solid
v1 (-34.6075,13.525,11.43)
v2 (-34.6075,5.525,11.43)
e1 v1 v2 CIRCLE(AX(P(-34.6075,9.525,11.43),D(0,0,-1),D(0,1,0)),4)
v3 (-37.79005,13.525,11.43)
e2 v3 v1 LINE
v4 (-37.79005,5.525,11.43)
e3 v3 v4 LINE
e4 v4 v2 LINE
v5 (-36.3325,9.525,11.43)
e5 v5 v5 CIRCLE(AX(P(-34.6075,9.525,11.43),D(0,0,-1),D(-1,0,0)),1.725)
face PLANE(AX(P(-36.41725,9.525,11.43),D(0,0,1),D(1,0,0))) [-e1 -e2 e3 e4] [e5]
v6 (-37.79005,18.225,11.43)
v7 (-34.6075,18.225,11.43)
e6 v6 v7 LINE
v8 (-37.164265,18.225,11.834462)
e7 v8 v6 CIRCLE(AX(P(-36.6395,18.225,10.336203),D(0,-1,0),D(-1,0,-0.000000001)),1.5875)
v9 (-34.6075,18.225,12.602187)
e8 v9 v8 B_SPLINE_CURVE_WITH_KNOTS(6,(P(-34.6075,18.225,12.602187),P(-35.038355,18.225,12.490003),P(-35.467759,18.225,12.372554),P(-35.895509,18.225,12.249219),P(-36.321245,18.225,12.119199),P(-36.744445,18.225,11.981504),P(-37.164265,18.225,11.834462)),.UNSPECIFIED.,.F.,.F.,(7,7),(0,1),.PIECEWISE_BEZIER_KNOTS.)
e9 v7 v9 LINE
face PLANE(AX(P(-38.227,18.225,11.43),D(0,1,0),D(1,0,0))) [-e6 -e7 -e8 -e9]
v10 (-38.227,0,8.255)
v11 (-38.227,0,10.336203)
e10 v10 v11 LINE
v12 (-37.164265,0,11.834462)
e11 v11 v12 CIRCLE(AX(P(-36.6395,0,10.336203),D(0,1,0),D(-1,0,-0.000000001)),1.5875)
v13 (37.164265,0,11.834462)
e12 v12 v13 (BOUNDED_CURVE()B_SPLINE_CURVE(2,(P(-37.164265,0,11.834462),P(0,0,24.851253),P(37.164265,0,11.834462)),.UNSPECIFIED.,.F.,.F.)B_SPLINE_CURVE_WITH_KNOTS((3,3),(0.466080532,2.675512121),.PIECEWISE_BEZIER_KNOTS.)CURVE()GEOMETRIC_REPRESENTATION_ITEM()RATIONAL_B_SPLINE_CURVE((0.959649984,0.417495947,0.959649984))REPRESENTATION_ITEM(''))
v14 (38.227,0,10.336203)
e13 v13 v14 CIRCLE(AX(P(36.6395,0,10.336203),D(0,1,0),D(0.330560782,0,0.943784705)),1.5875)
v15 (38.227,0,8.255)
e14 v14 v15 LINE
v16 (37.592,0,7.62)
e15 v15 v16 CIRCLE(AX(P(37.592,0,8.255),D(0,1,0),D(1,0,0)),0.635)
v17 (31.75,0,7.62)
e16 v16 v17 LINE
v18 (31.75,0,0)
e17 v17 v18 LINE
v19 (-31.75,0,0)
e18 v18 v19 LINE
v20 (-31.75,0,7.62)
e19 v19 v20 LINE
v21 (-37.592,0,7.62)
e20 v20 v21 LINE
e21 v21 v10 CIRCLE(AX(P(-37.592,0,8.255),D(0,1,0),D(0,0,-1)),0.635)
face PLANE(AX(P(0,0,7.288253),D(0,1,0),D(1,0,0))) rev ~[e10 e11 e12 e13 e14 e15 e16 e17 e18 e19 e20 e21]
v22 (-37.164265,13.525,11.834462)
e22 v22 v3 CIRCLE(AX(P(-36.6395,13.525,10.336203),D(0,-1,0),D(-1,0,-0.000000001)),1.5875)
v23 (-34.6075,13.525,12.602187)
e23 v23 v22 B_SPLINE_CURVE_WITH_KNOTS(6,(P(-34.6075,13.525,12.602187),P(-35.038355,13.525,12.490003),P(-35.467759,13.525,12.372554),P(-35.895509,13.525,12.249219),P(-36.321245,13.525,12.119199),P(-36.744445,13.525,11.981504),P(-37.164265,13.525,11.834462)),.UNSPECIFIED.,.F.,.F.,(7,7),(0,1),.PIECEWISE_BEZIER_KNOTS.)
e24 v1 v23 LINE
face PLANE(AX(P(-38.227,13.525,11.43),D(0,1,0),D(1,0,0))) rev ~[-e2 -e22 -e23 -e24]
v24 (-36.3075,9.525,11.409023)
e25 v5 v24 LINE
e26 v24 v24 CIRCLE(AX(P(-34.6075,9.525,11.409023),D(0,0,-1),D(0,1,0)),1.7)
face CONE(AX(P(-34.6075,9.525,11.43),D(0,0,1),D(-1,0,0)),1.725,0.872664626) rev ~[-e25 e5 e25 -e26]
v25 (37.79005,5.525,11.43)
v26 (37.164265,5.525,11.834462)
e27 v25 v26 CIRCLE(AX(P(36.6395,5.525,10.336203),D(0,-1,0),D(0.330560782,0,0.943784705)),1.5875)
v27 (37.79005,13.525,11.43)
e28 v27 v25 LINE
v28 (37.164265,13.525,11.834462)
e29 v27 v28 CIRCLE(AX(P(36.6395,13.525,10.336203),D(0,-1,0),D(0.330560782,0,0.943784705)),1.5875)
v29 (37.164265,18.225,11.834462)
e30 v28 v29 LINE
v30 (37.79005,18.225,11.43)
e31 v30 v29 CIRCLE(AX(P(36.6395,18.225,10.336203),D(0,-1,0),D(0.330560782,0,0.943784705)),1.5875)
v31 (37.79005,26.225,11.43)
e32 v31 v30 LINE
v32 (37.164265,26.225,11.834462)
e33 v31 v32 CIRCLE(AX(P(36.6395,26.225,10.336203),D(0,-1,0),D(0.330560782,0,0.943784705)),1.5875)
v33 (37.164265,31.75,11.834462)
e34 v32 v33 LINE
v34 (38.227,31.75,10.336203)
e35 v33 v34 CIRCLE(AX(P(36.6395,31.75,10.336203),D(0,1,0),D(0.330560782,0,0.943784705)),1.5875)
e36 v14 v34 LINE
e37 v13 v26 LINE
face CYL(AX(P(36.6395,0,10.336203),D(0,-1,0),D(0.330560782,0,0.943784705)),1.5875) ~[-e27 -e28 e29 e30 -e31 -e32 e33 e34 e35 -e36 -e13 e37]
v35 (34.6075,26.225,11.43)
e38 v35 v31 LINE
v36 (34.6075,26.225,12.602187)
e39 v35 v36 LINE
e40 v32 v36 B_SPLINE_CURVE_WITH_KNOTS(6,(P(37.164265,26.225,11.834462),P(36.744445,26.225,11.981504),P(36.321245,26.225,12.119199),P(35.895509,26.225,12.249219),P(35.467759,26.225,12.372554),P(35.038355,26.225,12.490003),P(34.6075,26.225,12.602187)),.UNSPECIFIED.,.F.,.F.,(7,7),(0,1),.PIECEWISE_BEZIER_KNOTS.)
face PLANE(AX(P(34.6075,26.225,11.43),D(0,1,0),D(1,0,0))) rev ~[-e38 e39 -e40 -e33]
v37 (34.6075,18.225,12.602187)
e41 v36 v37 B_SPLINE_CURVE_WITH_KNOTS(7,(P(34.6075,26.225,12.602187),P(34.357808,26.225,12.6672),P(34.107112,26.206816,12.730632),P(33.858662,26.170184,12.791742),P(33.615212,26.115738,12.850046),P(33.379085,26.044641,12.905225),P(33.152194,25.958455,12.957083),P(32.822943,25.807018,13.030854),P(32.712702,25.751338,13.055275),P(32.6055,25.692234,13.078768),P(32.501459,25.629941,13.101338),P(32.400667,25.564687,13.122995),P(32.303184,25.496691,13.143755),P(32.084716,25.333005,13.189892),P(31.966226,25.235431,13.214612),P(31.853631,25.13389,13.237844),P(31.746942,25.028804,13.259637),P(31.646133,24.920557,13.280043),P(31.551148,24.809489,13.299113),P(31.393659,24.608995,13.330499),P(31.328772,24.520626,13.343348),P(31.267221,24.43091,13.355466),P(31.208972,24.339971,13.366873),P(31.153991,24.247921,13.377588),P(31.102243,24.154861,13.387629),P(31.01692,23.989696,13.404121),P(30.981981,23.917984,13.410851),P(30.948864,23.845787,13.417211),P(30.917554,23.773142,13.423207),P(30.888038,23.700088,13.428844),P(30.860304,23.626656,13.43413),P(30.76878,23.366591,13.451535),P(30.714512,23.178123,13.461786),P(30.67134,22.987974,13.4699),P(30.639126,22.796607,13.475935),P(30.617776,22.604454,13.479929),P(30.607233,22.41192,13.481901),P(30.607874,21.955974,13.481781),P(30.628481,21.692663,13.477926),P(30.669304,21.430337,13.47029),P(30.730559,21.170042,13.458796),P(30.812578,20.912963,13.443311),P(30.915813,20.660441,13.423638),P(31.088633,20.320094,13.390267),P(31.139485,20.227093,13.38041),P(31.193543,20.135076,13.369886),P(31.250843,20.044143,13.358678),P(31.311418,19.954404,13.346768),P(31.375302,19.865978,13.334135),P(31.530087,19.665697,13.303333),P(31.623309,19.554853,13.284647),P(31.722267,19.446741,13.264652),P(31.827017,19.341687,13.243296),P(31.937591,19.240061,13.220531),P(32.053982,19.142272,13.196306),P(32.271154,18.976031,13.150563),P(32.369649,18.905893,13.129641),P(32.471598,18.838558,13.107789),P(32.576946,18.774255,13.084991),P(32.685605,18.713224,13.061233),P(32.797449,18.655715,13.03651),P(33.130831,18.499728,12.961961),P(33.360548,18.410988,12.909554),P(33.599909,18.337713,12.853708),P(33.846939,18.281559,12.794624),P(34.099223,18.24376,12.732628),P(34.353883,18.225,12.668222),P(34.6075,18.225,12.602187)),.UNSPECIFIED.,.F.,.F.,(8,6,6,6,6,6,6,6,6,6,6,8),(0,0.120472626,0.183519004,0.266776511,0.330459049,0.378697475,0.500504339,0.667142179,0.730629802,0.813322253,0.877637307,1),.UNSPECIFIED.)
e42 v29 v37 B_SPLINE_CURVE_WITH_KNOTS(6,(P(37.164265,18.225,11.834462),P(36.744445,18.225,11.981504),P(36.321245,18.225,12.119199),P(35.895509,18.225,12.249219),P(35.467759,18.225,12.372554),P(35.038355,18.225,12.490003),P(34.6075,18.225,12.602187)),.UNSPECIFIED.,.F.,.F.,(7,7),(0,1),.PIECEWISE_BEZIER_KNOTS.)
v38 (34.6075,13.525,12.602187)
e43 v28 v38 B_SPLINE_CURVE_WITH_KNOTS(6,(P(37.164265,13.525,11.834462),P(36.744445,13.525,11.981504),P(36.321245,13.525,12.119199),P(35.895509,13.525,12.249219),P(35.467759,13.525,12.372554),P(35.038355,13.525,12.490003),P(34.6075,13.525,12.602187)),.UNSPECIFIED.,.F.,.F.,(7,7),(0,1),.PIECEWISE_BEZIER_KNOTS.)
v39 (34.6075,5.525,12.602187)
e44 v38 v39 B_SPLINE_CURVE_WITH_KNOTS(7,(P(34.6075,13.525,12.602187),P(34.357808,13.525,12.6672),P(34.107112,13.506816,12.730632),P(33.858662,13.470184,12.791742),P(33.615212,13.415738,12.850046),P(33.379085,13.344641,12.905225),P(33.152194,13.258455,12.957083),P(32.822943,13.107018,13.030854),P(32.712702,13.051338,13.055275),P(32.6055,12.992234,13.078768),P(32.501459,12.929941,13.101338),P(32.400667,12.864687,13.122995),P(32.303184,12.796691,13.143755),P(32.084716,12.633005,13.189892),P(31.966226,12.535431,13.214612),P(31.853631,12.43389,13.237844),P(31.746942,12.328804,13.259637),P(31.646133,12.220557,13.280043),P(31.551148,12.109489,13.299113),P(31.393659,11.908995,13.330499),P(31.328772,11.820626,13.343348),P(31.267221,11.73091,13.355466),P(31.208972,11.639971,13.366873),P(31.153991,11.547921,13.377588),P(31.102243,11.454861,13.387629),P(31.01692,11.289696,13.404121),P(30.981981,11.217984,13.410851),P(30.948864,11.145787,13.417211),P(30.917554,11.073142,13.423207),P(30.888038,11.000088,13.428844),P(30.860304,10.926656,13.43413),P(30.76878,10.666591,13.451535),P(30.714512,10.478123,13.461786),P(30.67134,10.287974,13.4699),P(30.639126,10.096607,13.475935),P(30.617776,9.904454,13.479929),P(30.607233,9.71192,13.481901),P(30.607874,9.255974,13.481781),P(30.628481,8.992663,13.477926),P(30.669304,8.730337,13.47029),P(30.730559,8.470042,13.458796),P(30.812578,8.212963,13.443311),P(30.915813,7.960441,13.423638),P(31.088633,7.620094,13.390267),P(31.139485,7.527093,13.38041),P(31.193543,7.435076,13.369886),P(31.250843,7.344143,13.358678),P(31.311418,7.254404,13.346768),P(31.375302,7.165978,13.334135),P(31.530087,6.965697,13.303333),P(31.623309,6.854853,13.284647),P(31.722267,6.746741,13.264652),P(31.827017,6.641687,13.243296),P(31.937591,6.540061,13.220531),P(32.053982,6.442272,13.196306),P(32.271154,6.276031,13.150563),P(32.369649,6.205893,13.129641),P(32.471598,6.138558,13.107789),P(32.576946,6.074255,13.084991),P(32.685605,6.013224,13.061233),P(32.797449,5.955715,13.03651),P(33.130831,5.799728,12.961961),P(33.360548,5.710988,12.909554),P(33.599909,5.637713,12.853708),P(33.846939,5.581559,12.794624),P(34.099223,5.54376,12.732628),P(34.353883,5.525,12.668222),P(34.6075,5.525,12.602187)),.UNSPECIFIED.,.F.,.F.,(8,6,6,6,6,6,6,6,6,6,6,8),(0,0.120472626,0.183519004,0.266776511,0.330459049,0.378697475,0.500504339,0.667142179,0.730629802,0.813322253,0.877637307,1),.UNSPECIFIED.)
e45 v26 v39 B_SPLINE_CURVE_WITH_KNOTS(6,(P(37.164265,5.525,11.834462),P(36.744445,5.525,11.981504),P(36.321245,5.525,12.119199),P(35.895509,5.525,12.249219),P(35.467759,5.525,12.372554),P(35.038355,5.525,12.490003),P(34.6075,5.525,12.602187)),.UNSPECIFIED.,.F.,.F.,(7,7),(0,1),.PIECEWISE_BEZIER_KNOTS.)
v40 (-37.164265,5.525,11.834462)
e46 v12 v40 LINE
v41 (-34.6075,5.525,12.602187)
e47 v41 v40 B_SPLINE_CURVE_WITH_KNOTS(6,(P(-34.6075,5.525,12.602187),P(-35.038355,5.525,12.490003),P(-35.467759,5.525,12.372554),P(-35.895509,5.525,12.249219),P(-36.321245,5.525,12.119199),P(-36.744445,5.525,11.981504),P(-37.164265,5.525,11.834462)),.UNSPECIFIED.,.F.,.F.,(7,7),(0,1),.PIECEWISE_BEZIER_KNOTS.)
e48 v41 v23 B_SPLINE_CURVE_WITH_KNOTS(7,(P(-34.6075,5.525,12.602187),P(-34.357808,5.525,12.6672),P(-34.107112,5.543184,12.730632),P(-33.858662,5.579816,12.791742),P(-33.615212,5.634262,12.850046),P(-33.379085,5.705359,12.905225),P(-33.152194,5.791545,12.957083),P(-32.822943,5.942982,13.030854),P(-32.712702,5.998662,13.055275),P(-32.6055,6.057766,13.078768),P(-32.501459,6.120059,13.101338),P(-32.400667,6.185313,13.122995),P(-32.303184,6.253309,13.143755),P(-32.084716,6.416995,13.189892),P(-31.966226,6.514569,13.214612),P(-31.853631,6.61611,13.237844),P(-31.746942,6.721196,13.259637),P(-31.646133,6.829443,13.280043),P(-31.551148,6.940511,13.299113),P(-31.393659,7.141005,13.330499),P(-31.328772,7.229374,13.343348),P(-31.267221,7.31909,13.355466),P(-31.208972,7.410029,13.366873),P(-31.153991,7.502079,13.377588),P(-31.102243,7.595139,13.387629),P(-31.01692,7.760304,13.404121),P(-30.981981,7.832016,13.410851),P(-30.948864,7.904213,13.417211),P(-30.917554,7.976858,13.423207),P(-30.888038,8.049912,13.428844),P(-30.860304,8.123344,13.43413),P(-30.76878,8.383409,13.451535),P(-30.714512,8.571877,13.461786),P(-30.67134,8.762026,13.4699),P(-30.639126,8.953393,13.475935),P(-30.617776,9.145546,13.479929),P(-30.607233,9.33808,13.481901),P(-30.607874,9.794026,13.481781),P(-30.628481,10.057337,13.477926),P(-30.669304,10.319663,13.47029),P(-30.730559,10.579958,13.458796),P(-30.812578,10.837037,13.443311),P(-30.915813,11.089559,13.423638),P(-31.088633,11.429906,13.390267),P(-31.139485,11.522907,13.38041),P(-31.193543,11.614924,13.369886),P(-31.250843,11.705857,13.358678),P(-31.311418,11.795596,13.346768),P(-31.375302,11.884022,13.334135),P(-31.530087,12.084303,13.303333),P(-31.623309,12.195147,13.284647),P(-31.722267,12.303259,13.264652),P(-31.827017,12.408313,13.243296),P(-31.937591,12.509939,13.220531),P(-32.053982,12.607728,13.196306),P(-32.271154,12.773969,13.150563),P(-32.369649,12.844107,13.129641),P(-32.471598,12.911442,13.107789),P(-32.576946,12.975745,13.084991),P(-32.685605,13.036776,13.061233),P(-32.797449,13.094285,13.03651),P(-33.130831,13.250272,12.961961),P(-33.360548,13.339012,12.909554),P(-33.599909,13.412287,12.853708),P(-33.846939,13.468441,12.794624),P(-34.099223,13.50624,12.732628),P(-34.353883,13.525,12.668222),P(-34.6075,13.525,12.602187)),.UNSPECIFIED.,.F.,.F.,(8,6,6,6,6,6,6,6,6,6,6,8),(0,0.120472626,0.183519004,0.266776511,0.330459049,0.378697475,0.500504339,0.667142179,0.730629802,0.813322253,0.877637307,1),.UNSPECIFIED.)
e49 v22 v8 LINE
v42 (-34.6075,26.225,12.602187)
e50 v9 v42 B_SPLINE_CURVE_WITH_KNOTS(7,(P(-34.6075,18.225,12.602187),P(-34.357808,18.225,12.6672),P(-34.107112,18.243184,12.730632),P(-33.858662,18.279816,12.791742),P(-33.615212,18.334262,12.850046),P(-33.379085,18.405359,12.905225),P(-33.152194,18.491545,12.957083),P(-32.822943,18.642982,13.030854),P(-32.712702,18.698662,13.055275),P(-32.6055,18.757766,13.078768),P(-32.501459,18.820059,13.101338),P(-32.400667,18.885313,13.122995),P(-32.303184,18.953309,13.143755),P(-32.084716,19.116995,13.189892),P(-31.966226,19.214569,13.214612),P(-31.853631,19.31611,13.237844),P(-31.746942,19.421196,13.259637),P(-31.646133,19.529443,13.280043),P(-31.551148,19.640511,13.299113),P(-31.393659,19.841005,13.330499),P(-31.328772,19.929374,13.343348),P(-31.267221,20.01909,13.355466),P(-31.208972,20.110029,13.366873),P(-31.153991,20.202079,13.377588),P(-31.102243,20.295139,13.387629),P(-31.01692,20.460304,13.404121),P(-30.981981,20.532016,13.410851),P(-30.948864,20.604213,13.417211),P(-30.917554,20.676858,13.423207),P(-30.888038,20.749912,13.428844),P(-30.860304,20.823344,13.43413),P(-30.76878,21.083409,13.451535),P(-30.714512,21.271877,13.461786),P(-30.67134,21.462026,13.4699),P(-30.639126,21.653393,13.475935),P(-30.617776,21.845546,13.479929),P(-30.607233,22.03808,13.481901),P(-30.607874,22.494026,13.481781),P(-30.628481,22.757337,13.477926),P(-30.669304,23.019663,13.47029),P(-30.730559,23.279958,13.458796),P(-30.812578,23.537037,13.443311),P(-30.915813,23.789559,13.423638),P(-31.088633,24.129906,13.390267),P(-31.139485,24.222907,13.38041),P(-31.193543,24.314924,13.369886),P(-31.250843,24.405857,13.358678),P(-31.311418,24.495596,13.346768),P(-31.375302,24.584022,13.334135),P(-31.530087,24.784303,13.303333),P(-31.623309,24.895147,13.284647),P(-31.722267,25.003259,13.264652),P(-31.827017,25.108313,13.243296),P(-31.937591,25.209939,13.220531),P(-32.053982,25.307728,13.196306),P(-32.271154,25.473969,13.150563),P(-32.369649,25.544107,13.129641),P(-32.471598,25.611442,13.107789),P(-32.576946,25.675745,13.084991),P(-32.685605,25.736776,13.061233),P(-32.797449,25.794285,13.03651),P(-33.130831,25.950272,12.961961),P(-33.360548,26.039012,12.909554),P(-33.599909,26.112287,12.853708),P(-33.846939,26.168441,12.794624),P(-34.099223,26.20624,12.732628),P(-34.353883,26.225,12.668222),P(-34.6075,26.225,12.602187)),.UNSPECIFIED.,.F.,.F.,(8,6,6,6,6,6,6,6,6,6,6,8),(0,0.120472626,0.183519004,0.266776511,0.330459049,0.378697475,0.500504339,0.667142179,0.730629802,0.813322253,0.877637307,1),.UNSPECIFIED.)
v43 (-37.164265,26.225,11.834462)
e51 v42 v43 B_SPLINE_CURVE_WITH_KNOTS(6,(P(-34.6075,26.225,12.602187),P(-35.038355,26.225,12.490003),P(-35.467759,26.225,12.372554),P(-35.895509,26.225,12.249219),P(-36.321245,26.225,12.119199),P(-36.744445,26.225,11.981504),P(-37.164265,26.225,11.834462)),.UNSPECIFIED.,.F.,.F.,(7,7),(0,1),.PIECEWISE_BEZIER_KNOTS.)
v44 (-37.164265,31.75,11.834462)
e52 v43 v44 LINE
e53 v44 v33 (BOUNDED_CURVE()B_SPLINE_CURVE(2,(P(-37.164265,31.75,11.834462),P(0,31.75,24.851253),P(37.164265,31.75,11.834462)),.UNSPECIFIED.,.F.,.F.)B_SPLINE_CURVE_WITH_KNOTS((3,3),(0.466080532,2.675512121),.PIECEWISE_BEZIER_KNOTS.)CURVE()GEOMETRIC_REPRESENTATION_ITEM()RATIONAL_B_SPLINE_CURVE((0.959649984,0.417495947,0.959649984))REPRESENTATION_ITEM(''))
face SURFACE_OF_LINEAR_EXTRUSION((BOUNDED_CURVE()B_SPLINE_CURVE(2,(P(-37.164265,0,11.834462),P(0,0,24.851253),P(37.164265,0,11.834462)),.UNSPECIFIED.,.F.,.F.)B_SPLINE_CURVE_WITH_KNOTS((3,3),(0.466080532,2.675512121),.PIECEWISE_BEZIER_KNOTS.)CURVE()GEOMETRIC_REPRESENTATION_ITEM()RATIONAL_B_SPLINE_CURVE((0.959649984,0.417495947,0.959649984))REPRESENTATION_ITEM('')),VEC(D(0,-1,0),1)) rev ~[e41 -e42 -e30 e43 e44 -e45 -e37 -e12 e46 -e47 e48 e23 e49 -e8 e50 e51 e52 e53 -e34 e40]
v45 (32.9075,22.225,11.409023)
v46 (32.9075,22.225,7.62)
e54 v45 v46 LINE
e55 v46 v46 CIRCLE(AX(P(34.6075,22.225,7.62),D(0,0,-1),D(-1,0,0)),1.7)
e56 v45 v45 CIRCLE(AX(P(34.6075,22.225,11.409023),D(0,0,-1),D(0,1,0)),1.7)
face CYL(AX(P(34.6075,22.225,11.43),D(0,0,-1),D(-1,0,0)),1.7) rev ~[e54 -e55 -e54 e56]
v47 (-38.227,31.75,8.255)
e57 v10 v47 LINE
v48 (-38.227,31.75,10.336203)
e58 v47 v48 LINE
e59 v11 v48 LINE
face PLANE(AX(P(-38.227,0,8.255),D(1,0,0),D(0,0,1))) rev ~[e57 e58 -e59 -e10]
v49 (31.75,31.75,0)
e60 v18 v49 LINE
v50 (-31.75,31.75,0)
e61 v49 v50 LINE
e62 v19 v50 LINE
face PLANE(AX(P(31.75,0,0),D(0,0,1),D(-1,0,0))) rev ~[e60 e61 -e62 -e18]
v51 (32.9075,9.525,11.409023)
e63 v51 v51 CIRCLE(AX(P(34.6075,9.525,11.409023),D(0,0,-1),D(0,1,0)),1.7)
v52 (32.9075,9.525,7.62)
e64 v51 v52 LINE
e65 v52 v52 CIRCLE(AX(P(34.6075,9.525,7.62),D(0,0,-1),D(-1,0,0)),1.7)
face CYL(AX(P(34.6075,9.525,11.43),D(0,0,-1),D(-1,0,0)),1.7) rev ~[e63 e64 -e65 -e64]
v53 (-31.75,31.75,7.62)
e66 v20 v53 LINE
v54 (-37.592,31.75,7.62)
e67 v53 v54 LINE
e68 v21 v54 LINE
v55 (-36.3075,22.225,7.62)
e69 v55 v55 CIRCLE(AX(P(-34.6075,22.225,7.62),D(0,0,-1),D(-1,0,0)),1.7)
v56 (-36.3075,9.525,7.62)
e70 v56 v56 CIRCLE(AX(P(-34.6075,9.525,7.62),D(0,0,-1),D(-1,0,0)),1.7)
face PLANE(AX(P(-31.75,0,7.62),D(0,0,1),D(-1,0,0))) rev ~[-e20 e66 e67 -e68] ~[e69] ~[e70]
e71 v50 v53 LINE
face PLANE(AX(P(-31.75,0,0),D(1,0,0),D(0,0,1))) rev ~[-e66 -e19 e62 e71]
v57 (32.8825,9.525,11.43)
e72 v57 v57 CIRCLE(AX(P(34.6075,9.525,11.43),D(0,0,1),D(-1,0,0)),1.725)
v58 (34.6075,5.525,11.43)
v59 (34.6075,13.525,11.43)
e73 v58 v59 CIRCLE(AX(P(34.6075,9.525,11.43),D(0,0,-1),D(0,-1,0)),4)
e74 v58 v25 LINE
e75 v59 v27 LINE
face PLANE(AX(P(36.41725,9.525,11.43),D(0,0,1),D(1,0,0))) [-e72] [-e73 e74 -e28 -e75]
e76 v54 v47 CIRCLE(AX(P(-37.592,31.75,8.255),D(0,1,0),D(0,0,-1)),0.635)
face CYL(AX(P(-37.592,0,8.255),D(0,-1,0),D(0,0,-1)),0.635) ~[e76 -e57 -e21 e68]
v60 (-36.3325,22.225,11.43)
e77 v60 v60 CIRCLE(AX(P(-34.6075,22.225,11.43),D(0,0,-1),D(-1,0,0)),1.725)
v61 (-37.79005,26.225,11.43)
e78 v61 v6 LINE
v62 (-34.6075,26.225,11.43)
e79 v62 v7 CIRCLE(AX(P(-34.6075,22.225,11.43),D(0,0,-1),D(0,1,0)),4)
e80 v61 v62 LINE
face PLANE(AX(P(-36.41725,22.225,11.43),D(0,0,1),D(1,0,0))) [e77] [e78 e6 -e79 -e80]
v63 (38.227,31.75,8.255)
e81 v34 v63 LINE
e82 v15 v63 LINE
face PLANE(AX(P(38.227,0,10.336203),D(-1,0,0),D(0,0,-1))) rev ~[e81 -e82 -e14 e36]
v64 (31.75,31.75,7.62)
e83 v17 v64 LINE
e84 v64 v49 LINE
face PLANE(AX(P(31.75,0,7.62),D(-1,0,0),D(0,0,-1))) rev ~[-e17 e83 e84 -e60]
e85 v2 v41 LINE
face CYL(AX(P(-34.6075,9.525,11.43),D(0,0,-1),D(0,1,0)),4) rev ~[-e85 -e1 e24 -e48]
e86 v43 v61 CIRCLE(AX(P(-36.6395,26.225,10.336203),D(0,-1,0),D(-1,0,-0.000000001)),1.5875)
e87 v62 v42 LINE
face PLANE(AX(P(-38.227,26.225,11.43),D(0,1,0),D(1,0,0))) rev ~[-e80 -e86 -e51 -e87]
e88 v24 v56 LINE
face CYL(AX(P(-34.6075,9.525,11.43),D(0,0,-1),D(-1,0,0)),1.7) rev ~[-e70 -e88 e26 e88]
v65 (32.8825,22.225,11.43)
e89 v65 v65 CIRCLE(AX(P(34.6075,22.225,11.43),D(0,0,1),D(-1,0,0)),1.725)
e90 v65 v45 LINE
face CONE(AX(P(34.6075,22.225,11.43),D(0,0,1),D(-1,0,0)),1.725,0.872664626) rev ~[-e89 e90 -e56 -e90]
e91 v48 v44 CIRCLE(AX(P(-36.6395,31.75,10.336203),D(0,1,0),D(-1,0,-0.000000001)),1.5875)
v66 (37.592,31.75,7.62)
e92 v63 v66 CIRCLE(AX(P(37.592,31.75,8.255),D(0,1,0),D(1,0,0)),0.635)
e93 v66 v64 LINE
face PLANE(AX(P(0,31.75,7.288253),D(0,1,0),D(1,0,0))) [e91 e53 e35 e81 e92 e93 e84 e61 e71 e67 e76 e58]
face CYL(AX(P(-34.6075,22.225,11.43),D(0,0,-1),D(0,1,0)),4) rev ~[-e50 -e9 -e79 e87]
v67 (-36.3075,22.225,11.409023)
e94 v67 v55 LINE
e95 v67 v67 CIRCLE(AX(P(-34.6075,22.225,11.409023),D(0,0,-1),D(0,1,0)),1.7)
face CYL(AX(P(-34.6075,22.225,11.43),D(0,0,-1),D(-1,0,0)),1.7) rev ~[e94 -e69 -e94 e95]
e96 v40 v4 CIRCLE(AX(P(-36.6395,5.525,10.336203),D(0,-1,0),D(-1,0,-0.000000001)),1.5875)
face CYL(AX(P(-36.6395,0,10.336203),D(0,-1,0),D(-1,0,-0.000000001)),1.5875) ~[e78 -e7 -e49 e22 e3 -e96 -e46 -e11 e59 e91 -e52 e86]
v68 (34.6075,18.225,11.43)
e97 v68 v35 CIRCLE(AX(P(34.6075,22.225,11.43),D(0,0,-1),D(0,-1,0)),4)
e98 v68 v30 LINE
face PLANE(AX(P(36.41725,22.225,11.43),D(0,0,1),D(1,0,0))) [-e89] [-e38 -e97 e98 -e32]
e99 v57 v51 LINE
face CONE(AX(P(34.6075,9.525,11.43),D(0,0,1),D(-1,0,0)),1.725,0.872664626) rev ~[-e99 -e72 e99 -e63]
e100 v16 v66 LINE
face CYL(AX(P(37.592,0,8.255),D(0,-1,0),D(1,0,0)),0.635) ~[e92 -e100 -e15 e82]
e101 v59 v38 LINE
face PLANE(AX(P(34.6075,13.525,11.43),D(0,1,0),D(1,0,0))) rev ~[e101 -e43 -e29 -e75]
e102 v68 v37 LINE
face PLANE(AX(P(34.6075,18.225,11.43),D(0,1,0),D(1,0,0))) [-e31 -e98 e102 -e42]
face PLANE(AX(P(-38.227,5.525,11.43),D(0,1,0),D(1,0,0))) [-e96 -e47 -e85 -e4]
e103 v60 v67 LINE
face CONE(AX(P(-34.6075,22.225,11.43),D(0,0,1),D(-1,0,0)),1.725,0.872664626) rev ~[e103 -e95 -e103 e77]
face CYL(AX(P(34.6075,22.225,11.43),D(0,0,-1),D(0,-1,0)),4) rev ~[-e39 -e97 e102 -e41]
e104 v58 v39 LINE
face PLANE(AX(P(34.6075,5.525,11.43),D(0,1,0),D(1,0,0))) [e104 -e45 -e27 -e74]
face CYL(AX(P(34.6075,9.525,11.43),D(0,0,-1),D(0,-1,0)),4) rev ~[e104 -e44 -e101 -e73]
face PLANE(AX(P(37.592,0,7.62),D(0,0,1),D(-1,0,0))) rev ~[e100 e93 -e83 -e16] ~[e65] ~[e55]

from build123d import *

# Parameters (mm, degrees)
BOSS_EXTRUDE1_DEPTH            = 31.75
SKETCH3_W                      = 3.6195
SKETCH3_H                      = 8
CUT_EXTRUDE1_DEPTH             = 51.990302463
M3_CLEARANCE_HOLE1_D           = 3.4
M3_CLEARANCE_HOLE1_CSINK_D     = 3.45
M3_CLEARANCE_HOLE1_CSINK_ANGLE = 100


with BuildPart() as part:
    # Sketch1 → Boss-Extrude1 (new body)
    with BuildSketch(Plane(origin=(0, 0, 0), x_dir=(1, 0, 0), z_dir=(0, 1, 0))):
        with BuildLine():
            Line((31.75, -7.62), (31.75, 0))
            Line((31.75, 0), (-31.75, 0))
            Line((-31.75, 0), (-31.75, -7.62))
            Line((-31.75, -7.62), (-37.465, -7.62))
            Line((-37.465, -7.62), (-37.592, -7.62))
            ThreePointArc((-37.592, -7.62), (-38.041012806, -7.805987194), (-38.227, -8.255))
            Line((-38.227, -8.255), (-38.227, -10.33620332))
            ThreePointArc((-38.227, -10.33620332), (-37.934339966, -11.254650768), (-37.164265243, -11.834461539))
            add(Edge.make_bspline(
                [(-37.164265243, -11.834461539), (0, -24.85125292), (37.164265243, -11.834461539)],
                knots=[0.466080532, 0.466080532, 0.466080532, 2.675512121, 2.675512121, 2.675512121], degree=2, weights=[0.959649984, 0.417495947, 0.959649984]))
            ThreePointArc((37.164265243, -11.834461539), (37.934339966, -11.254650768), (38.227, -10.33620332))
            Line((38.227, -10.33620332), (38.227, -8.255))
            ThreePointArc((38.227, -8.255), (38.041012806, -7.805987194), (37.592, -7.62))
            Line((37.592, -7.62), (37.465, -7.62))
            Line((37.465, -7.62), (31.75, -7.62))
        make_face()
    extrude(amount=BOSS_EXTRUDE1_DEPTH)

    # Sketch3 → Cut-Extrude1 (cut, through all)
    with BuildSketch(Plane.XY.offset(11.43)):
        with Locations((-36.41725, 22.225)):
            Rectangle(SKETCH3_W, SKETCH3_H)
        with BuildLine():
            ThreePointArc((-34.6075, 26.225), (-30.6075, 22.225), (-34.6075, 18.225))
            Line((-34.6075, 18.225), (-34.6075, 26.225))
        make_face()
        with Locations((-36.41725, 9.525)):
            Rectangle(SKETCH3_W, SKETCH3_H)
        with BuildLine():
            ThreePointArc((-34.6075, 13.525), (-30.6075, 9.525), (-34.6075, 5.525))
            Line((-34.6075, 5.525), (-34.6075, 13.525))
        make_face()
        with Locations((36.41725, 9.525)):
            Rectangle(SKETCH3_W, SKETCH3_H)
        with BuildLine():
            Line((34.6075, 13.525), (34.6075, 5.525))
            ThreePointArc((34.6075, 5.525), (30.6075, 9.525), (34.6075, 13.525))
        make_face()
        with Locations((36.41725, 22.225)):
            Rectangle(SKETCH3_W, SKETCH3_H)
        with BuildLine():
            Line((34.6075, 26.225), (34.6075, 18.225))
            ThreePointArc((34.6075, 18.225), (30.6075, 22.225), (34.6075, 26.225))
        make_face()
    extrude(amount=CUT_EXTRUDE1_DEPTH, mode=Mode.SUBTRACT)

    # M3 Clearance Hole1 (through all)
    with Locations(Plane.XY.offset(11.43)):
        with Locations((-34.6075, 22.225), (-34.6075, 9.525), (34.6075, 22.225), (34.6075, 9.525)):
            CounterSinkHole(M3_CLEARANCE_HOLE1_D / 2, M3_CLEARANCE_HOLE1_CSINK_D / 2, counter_sink_angle=M3_CLEARANCE_HOLE1_CSINK_ANGLE)


solid = part.part
